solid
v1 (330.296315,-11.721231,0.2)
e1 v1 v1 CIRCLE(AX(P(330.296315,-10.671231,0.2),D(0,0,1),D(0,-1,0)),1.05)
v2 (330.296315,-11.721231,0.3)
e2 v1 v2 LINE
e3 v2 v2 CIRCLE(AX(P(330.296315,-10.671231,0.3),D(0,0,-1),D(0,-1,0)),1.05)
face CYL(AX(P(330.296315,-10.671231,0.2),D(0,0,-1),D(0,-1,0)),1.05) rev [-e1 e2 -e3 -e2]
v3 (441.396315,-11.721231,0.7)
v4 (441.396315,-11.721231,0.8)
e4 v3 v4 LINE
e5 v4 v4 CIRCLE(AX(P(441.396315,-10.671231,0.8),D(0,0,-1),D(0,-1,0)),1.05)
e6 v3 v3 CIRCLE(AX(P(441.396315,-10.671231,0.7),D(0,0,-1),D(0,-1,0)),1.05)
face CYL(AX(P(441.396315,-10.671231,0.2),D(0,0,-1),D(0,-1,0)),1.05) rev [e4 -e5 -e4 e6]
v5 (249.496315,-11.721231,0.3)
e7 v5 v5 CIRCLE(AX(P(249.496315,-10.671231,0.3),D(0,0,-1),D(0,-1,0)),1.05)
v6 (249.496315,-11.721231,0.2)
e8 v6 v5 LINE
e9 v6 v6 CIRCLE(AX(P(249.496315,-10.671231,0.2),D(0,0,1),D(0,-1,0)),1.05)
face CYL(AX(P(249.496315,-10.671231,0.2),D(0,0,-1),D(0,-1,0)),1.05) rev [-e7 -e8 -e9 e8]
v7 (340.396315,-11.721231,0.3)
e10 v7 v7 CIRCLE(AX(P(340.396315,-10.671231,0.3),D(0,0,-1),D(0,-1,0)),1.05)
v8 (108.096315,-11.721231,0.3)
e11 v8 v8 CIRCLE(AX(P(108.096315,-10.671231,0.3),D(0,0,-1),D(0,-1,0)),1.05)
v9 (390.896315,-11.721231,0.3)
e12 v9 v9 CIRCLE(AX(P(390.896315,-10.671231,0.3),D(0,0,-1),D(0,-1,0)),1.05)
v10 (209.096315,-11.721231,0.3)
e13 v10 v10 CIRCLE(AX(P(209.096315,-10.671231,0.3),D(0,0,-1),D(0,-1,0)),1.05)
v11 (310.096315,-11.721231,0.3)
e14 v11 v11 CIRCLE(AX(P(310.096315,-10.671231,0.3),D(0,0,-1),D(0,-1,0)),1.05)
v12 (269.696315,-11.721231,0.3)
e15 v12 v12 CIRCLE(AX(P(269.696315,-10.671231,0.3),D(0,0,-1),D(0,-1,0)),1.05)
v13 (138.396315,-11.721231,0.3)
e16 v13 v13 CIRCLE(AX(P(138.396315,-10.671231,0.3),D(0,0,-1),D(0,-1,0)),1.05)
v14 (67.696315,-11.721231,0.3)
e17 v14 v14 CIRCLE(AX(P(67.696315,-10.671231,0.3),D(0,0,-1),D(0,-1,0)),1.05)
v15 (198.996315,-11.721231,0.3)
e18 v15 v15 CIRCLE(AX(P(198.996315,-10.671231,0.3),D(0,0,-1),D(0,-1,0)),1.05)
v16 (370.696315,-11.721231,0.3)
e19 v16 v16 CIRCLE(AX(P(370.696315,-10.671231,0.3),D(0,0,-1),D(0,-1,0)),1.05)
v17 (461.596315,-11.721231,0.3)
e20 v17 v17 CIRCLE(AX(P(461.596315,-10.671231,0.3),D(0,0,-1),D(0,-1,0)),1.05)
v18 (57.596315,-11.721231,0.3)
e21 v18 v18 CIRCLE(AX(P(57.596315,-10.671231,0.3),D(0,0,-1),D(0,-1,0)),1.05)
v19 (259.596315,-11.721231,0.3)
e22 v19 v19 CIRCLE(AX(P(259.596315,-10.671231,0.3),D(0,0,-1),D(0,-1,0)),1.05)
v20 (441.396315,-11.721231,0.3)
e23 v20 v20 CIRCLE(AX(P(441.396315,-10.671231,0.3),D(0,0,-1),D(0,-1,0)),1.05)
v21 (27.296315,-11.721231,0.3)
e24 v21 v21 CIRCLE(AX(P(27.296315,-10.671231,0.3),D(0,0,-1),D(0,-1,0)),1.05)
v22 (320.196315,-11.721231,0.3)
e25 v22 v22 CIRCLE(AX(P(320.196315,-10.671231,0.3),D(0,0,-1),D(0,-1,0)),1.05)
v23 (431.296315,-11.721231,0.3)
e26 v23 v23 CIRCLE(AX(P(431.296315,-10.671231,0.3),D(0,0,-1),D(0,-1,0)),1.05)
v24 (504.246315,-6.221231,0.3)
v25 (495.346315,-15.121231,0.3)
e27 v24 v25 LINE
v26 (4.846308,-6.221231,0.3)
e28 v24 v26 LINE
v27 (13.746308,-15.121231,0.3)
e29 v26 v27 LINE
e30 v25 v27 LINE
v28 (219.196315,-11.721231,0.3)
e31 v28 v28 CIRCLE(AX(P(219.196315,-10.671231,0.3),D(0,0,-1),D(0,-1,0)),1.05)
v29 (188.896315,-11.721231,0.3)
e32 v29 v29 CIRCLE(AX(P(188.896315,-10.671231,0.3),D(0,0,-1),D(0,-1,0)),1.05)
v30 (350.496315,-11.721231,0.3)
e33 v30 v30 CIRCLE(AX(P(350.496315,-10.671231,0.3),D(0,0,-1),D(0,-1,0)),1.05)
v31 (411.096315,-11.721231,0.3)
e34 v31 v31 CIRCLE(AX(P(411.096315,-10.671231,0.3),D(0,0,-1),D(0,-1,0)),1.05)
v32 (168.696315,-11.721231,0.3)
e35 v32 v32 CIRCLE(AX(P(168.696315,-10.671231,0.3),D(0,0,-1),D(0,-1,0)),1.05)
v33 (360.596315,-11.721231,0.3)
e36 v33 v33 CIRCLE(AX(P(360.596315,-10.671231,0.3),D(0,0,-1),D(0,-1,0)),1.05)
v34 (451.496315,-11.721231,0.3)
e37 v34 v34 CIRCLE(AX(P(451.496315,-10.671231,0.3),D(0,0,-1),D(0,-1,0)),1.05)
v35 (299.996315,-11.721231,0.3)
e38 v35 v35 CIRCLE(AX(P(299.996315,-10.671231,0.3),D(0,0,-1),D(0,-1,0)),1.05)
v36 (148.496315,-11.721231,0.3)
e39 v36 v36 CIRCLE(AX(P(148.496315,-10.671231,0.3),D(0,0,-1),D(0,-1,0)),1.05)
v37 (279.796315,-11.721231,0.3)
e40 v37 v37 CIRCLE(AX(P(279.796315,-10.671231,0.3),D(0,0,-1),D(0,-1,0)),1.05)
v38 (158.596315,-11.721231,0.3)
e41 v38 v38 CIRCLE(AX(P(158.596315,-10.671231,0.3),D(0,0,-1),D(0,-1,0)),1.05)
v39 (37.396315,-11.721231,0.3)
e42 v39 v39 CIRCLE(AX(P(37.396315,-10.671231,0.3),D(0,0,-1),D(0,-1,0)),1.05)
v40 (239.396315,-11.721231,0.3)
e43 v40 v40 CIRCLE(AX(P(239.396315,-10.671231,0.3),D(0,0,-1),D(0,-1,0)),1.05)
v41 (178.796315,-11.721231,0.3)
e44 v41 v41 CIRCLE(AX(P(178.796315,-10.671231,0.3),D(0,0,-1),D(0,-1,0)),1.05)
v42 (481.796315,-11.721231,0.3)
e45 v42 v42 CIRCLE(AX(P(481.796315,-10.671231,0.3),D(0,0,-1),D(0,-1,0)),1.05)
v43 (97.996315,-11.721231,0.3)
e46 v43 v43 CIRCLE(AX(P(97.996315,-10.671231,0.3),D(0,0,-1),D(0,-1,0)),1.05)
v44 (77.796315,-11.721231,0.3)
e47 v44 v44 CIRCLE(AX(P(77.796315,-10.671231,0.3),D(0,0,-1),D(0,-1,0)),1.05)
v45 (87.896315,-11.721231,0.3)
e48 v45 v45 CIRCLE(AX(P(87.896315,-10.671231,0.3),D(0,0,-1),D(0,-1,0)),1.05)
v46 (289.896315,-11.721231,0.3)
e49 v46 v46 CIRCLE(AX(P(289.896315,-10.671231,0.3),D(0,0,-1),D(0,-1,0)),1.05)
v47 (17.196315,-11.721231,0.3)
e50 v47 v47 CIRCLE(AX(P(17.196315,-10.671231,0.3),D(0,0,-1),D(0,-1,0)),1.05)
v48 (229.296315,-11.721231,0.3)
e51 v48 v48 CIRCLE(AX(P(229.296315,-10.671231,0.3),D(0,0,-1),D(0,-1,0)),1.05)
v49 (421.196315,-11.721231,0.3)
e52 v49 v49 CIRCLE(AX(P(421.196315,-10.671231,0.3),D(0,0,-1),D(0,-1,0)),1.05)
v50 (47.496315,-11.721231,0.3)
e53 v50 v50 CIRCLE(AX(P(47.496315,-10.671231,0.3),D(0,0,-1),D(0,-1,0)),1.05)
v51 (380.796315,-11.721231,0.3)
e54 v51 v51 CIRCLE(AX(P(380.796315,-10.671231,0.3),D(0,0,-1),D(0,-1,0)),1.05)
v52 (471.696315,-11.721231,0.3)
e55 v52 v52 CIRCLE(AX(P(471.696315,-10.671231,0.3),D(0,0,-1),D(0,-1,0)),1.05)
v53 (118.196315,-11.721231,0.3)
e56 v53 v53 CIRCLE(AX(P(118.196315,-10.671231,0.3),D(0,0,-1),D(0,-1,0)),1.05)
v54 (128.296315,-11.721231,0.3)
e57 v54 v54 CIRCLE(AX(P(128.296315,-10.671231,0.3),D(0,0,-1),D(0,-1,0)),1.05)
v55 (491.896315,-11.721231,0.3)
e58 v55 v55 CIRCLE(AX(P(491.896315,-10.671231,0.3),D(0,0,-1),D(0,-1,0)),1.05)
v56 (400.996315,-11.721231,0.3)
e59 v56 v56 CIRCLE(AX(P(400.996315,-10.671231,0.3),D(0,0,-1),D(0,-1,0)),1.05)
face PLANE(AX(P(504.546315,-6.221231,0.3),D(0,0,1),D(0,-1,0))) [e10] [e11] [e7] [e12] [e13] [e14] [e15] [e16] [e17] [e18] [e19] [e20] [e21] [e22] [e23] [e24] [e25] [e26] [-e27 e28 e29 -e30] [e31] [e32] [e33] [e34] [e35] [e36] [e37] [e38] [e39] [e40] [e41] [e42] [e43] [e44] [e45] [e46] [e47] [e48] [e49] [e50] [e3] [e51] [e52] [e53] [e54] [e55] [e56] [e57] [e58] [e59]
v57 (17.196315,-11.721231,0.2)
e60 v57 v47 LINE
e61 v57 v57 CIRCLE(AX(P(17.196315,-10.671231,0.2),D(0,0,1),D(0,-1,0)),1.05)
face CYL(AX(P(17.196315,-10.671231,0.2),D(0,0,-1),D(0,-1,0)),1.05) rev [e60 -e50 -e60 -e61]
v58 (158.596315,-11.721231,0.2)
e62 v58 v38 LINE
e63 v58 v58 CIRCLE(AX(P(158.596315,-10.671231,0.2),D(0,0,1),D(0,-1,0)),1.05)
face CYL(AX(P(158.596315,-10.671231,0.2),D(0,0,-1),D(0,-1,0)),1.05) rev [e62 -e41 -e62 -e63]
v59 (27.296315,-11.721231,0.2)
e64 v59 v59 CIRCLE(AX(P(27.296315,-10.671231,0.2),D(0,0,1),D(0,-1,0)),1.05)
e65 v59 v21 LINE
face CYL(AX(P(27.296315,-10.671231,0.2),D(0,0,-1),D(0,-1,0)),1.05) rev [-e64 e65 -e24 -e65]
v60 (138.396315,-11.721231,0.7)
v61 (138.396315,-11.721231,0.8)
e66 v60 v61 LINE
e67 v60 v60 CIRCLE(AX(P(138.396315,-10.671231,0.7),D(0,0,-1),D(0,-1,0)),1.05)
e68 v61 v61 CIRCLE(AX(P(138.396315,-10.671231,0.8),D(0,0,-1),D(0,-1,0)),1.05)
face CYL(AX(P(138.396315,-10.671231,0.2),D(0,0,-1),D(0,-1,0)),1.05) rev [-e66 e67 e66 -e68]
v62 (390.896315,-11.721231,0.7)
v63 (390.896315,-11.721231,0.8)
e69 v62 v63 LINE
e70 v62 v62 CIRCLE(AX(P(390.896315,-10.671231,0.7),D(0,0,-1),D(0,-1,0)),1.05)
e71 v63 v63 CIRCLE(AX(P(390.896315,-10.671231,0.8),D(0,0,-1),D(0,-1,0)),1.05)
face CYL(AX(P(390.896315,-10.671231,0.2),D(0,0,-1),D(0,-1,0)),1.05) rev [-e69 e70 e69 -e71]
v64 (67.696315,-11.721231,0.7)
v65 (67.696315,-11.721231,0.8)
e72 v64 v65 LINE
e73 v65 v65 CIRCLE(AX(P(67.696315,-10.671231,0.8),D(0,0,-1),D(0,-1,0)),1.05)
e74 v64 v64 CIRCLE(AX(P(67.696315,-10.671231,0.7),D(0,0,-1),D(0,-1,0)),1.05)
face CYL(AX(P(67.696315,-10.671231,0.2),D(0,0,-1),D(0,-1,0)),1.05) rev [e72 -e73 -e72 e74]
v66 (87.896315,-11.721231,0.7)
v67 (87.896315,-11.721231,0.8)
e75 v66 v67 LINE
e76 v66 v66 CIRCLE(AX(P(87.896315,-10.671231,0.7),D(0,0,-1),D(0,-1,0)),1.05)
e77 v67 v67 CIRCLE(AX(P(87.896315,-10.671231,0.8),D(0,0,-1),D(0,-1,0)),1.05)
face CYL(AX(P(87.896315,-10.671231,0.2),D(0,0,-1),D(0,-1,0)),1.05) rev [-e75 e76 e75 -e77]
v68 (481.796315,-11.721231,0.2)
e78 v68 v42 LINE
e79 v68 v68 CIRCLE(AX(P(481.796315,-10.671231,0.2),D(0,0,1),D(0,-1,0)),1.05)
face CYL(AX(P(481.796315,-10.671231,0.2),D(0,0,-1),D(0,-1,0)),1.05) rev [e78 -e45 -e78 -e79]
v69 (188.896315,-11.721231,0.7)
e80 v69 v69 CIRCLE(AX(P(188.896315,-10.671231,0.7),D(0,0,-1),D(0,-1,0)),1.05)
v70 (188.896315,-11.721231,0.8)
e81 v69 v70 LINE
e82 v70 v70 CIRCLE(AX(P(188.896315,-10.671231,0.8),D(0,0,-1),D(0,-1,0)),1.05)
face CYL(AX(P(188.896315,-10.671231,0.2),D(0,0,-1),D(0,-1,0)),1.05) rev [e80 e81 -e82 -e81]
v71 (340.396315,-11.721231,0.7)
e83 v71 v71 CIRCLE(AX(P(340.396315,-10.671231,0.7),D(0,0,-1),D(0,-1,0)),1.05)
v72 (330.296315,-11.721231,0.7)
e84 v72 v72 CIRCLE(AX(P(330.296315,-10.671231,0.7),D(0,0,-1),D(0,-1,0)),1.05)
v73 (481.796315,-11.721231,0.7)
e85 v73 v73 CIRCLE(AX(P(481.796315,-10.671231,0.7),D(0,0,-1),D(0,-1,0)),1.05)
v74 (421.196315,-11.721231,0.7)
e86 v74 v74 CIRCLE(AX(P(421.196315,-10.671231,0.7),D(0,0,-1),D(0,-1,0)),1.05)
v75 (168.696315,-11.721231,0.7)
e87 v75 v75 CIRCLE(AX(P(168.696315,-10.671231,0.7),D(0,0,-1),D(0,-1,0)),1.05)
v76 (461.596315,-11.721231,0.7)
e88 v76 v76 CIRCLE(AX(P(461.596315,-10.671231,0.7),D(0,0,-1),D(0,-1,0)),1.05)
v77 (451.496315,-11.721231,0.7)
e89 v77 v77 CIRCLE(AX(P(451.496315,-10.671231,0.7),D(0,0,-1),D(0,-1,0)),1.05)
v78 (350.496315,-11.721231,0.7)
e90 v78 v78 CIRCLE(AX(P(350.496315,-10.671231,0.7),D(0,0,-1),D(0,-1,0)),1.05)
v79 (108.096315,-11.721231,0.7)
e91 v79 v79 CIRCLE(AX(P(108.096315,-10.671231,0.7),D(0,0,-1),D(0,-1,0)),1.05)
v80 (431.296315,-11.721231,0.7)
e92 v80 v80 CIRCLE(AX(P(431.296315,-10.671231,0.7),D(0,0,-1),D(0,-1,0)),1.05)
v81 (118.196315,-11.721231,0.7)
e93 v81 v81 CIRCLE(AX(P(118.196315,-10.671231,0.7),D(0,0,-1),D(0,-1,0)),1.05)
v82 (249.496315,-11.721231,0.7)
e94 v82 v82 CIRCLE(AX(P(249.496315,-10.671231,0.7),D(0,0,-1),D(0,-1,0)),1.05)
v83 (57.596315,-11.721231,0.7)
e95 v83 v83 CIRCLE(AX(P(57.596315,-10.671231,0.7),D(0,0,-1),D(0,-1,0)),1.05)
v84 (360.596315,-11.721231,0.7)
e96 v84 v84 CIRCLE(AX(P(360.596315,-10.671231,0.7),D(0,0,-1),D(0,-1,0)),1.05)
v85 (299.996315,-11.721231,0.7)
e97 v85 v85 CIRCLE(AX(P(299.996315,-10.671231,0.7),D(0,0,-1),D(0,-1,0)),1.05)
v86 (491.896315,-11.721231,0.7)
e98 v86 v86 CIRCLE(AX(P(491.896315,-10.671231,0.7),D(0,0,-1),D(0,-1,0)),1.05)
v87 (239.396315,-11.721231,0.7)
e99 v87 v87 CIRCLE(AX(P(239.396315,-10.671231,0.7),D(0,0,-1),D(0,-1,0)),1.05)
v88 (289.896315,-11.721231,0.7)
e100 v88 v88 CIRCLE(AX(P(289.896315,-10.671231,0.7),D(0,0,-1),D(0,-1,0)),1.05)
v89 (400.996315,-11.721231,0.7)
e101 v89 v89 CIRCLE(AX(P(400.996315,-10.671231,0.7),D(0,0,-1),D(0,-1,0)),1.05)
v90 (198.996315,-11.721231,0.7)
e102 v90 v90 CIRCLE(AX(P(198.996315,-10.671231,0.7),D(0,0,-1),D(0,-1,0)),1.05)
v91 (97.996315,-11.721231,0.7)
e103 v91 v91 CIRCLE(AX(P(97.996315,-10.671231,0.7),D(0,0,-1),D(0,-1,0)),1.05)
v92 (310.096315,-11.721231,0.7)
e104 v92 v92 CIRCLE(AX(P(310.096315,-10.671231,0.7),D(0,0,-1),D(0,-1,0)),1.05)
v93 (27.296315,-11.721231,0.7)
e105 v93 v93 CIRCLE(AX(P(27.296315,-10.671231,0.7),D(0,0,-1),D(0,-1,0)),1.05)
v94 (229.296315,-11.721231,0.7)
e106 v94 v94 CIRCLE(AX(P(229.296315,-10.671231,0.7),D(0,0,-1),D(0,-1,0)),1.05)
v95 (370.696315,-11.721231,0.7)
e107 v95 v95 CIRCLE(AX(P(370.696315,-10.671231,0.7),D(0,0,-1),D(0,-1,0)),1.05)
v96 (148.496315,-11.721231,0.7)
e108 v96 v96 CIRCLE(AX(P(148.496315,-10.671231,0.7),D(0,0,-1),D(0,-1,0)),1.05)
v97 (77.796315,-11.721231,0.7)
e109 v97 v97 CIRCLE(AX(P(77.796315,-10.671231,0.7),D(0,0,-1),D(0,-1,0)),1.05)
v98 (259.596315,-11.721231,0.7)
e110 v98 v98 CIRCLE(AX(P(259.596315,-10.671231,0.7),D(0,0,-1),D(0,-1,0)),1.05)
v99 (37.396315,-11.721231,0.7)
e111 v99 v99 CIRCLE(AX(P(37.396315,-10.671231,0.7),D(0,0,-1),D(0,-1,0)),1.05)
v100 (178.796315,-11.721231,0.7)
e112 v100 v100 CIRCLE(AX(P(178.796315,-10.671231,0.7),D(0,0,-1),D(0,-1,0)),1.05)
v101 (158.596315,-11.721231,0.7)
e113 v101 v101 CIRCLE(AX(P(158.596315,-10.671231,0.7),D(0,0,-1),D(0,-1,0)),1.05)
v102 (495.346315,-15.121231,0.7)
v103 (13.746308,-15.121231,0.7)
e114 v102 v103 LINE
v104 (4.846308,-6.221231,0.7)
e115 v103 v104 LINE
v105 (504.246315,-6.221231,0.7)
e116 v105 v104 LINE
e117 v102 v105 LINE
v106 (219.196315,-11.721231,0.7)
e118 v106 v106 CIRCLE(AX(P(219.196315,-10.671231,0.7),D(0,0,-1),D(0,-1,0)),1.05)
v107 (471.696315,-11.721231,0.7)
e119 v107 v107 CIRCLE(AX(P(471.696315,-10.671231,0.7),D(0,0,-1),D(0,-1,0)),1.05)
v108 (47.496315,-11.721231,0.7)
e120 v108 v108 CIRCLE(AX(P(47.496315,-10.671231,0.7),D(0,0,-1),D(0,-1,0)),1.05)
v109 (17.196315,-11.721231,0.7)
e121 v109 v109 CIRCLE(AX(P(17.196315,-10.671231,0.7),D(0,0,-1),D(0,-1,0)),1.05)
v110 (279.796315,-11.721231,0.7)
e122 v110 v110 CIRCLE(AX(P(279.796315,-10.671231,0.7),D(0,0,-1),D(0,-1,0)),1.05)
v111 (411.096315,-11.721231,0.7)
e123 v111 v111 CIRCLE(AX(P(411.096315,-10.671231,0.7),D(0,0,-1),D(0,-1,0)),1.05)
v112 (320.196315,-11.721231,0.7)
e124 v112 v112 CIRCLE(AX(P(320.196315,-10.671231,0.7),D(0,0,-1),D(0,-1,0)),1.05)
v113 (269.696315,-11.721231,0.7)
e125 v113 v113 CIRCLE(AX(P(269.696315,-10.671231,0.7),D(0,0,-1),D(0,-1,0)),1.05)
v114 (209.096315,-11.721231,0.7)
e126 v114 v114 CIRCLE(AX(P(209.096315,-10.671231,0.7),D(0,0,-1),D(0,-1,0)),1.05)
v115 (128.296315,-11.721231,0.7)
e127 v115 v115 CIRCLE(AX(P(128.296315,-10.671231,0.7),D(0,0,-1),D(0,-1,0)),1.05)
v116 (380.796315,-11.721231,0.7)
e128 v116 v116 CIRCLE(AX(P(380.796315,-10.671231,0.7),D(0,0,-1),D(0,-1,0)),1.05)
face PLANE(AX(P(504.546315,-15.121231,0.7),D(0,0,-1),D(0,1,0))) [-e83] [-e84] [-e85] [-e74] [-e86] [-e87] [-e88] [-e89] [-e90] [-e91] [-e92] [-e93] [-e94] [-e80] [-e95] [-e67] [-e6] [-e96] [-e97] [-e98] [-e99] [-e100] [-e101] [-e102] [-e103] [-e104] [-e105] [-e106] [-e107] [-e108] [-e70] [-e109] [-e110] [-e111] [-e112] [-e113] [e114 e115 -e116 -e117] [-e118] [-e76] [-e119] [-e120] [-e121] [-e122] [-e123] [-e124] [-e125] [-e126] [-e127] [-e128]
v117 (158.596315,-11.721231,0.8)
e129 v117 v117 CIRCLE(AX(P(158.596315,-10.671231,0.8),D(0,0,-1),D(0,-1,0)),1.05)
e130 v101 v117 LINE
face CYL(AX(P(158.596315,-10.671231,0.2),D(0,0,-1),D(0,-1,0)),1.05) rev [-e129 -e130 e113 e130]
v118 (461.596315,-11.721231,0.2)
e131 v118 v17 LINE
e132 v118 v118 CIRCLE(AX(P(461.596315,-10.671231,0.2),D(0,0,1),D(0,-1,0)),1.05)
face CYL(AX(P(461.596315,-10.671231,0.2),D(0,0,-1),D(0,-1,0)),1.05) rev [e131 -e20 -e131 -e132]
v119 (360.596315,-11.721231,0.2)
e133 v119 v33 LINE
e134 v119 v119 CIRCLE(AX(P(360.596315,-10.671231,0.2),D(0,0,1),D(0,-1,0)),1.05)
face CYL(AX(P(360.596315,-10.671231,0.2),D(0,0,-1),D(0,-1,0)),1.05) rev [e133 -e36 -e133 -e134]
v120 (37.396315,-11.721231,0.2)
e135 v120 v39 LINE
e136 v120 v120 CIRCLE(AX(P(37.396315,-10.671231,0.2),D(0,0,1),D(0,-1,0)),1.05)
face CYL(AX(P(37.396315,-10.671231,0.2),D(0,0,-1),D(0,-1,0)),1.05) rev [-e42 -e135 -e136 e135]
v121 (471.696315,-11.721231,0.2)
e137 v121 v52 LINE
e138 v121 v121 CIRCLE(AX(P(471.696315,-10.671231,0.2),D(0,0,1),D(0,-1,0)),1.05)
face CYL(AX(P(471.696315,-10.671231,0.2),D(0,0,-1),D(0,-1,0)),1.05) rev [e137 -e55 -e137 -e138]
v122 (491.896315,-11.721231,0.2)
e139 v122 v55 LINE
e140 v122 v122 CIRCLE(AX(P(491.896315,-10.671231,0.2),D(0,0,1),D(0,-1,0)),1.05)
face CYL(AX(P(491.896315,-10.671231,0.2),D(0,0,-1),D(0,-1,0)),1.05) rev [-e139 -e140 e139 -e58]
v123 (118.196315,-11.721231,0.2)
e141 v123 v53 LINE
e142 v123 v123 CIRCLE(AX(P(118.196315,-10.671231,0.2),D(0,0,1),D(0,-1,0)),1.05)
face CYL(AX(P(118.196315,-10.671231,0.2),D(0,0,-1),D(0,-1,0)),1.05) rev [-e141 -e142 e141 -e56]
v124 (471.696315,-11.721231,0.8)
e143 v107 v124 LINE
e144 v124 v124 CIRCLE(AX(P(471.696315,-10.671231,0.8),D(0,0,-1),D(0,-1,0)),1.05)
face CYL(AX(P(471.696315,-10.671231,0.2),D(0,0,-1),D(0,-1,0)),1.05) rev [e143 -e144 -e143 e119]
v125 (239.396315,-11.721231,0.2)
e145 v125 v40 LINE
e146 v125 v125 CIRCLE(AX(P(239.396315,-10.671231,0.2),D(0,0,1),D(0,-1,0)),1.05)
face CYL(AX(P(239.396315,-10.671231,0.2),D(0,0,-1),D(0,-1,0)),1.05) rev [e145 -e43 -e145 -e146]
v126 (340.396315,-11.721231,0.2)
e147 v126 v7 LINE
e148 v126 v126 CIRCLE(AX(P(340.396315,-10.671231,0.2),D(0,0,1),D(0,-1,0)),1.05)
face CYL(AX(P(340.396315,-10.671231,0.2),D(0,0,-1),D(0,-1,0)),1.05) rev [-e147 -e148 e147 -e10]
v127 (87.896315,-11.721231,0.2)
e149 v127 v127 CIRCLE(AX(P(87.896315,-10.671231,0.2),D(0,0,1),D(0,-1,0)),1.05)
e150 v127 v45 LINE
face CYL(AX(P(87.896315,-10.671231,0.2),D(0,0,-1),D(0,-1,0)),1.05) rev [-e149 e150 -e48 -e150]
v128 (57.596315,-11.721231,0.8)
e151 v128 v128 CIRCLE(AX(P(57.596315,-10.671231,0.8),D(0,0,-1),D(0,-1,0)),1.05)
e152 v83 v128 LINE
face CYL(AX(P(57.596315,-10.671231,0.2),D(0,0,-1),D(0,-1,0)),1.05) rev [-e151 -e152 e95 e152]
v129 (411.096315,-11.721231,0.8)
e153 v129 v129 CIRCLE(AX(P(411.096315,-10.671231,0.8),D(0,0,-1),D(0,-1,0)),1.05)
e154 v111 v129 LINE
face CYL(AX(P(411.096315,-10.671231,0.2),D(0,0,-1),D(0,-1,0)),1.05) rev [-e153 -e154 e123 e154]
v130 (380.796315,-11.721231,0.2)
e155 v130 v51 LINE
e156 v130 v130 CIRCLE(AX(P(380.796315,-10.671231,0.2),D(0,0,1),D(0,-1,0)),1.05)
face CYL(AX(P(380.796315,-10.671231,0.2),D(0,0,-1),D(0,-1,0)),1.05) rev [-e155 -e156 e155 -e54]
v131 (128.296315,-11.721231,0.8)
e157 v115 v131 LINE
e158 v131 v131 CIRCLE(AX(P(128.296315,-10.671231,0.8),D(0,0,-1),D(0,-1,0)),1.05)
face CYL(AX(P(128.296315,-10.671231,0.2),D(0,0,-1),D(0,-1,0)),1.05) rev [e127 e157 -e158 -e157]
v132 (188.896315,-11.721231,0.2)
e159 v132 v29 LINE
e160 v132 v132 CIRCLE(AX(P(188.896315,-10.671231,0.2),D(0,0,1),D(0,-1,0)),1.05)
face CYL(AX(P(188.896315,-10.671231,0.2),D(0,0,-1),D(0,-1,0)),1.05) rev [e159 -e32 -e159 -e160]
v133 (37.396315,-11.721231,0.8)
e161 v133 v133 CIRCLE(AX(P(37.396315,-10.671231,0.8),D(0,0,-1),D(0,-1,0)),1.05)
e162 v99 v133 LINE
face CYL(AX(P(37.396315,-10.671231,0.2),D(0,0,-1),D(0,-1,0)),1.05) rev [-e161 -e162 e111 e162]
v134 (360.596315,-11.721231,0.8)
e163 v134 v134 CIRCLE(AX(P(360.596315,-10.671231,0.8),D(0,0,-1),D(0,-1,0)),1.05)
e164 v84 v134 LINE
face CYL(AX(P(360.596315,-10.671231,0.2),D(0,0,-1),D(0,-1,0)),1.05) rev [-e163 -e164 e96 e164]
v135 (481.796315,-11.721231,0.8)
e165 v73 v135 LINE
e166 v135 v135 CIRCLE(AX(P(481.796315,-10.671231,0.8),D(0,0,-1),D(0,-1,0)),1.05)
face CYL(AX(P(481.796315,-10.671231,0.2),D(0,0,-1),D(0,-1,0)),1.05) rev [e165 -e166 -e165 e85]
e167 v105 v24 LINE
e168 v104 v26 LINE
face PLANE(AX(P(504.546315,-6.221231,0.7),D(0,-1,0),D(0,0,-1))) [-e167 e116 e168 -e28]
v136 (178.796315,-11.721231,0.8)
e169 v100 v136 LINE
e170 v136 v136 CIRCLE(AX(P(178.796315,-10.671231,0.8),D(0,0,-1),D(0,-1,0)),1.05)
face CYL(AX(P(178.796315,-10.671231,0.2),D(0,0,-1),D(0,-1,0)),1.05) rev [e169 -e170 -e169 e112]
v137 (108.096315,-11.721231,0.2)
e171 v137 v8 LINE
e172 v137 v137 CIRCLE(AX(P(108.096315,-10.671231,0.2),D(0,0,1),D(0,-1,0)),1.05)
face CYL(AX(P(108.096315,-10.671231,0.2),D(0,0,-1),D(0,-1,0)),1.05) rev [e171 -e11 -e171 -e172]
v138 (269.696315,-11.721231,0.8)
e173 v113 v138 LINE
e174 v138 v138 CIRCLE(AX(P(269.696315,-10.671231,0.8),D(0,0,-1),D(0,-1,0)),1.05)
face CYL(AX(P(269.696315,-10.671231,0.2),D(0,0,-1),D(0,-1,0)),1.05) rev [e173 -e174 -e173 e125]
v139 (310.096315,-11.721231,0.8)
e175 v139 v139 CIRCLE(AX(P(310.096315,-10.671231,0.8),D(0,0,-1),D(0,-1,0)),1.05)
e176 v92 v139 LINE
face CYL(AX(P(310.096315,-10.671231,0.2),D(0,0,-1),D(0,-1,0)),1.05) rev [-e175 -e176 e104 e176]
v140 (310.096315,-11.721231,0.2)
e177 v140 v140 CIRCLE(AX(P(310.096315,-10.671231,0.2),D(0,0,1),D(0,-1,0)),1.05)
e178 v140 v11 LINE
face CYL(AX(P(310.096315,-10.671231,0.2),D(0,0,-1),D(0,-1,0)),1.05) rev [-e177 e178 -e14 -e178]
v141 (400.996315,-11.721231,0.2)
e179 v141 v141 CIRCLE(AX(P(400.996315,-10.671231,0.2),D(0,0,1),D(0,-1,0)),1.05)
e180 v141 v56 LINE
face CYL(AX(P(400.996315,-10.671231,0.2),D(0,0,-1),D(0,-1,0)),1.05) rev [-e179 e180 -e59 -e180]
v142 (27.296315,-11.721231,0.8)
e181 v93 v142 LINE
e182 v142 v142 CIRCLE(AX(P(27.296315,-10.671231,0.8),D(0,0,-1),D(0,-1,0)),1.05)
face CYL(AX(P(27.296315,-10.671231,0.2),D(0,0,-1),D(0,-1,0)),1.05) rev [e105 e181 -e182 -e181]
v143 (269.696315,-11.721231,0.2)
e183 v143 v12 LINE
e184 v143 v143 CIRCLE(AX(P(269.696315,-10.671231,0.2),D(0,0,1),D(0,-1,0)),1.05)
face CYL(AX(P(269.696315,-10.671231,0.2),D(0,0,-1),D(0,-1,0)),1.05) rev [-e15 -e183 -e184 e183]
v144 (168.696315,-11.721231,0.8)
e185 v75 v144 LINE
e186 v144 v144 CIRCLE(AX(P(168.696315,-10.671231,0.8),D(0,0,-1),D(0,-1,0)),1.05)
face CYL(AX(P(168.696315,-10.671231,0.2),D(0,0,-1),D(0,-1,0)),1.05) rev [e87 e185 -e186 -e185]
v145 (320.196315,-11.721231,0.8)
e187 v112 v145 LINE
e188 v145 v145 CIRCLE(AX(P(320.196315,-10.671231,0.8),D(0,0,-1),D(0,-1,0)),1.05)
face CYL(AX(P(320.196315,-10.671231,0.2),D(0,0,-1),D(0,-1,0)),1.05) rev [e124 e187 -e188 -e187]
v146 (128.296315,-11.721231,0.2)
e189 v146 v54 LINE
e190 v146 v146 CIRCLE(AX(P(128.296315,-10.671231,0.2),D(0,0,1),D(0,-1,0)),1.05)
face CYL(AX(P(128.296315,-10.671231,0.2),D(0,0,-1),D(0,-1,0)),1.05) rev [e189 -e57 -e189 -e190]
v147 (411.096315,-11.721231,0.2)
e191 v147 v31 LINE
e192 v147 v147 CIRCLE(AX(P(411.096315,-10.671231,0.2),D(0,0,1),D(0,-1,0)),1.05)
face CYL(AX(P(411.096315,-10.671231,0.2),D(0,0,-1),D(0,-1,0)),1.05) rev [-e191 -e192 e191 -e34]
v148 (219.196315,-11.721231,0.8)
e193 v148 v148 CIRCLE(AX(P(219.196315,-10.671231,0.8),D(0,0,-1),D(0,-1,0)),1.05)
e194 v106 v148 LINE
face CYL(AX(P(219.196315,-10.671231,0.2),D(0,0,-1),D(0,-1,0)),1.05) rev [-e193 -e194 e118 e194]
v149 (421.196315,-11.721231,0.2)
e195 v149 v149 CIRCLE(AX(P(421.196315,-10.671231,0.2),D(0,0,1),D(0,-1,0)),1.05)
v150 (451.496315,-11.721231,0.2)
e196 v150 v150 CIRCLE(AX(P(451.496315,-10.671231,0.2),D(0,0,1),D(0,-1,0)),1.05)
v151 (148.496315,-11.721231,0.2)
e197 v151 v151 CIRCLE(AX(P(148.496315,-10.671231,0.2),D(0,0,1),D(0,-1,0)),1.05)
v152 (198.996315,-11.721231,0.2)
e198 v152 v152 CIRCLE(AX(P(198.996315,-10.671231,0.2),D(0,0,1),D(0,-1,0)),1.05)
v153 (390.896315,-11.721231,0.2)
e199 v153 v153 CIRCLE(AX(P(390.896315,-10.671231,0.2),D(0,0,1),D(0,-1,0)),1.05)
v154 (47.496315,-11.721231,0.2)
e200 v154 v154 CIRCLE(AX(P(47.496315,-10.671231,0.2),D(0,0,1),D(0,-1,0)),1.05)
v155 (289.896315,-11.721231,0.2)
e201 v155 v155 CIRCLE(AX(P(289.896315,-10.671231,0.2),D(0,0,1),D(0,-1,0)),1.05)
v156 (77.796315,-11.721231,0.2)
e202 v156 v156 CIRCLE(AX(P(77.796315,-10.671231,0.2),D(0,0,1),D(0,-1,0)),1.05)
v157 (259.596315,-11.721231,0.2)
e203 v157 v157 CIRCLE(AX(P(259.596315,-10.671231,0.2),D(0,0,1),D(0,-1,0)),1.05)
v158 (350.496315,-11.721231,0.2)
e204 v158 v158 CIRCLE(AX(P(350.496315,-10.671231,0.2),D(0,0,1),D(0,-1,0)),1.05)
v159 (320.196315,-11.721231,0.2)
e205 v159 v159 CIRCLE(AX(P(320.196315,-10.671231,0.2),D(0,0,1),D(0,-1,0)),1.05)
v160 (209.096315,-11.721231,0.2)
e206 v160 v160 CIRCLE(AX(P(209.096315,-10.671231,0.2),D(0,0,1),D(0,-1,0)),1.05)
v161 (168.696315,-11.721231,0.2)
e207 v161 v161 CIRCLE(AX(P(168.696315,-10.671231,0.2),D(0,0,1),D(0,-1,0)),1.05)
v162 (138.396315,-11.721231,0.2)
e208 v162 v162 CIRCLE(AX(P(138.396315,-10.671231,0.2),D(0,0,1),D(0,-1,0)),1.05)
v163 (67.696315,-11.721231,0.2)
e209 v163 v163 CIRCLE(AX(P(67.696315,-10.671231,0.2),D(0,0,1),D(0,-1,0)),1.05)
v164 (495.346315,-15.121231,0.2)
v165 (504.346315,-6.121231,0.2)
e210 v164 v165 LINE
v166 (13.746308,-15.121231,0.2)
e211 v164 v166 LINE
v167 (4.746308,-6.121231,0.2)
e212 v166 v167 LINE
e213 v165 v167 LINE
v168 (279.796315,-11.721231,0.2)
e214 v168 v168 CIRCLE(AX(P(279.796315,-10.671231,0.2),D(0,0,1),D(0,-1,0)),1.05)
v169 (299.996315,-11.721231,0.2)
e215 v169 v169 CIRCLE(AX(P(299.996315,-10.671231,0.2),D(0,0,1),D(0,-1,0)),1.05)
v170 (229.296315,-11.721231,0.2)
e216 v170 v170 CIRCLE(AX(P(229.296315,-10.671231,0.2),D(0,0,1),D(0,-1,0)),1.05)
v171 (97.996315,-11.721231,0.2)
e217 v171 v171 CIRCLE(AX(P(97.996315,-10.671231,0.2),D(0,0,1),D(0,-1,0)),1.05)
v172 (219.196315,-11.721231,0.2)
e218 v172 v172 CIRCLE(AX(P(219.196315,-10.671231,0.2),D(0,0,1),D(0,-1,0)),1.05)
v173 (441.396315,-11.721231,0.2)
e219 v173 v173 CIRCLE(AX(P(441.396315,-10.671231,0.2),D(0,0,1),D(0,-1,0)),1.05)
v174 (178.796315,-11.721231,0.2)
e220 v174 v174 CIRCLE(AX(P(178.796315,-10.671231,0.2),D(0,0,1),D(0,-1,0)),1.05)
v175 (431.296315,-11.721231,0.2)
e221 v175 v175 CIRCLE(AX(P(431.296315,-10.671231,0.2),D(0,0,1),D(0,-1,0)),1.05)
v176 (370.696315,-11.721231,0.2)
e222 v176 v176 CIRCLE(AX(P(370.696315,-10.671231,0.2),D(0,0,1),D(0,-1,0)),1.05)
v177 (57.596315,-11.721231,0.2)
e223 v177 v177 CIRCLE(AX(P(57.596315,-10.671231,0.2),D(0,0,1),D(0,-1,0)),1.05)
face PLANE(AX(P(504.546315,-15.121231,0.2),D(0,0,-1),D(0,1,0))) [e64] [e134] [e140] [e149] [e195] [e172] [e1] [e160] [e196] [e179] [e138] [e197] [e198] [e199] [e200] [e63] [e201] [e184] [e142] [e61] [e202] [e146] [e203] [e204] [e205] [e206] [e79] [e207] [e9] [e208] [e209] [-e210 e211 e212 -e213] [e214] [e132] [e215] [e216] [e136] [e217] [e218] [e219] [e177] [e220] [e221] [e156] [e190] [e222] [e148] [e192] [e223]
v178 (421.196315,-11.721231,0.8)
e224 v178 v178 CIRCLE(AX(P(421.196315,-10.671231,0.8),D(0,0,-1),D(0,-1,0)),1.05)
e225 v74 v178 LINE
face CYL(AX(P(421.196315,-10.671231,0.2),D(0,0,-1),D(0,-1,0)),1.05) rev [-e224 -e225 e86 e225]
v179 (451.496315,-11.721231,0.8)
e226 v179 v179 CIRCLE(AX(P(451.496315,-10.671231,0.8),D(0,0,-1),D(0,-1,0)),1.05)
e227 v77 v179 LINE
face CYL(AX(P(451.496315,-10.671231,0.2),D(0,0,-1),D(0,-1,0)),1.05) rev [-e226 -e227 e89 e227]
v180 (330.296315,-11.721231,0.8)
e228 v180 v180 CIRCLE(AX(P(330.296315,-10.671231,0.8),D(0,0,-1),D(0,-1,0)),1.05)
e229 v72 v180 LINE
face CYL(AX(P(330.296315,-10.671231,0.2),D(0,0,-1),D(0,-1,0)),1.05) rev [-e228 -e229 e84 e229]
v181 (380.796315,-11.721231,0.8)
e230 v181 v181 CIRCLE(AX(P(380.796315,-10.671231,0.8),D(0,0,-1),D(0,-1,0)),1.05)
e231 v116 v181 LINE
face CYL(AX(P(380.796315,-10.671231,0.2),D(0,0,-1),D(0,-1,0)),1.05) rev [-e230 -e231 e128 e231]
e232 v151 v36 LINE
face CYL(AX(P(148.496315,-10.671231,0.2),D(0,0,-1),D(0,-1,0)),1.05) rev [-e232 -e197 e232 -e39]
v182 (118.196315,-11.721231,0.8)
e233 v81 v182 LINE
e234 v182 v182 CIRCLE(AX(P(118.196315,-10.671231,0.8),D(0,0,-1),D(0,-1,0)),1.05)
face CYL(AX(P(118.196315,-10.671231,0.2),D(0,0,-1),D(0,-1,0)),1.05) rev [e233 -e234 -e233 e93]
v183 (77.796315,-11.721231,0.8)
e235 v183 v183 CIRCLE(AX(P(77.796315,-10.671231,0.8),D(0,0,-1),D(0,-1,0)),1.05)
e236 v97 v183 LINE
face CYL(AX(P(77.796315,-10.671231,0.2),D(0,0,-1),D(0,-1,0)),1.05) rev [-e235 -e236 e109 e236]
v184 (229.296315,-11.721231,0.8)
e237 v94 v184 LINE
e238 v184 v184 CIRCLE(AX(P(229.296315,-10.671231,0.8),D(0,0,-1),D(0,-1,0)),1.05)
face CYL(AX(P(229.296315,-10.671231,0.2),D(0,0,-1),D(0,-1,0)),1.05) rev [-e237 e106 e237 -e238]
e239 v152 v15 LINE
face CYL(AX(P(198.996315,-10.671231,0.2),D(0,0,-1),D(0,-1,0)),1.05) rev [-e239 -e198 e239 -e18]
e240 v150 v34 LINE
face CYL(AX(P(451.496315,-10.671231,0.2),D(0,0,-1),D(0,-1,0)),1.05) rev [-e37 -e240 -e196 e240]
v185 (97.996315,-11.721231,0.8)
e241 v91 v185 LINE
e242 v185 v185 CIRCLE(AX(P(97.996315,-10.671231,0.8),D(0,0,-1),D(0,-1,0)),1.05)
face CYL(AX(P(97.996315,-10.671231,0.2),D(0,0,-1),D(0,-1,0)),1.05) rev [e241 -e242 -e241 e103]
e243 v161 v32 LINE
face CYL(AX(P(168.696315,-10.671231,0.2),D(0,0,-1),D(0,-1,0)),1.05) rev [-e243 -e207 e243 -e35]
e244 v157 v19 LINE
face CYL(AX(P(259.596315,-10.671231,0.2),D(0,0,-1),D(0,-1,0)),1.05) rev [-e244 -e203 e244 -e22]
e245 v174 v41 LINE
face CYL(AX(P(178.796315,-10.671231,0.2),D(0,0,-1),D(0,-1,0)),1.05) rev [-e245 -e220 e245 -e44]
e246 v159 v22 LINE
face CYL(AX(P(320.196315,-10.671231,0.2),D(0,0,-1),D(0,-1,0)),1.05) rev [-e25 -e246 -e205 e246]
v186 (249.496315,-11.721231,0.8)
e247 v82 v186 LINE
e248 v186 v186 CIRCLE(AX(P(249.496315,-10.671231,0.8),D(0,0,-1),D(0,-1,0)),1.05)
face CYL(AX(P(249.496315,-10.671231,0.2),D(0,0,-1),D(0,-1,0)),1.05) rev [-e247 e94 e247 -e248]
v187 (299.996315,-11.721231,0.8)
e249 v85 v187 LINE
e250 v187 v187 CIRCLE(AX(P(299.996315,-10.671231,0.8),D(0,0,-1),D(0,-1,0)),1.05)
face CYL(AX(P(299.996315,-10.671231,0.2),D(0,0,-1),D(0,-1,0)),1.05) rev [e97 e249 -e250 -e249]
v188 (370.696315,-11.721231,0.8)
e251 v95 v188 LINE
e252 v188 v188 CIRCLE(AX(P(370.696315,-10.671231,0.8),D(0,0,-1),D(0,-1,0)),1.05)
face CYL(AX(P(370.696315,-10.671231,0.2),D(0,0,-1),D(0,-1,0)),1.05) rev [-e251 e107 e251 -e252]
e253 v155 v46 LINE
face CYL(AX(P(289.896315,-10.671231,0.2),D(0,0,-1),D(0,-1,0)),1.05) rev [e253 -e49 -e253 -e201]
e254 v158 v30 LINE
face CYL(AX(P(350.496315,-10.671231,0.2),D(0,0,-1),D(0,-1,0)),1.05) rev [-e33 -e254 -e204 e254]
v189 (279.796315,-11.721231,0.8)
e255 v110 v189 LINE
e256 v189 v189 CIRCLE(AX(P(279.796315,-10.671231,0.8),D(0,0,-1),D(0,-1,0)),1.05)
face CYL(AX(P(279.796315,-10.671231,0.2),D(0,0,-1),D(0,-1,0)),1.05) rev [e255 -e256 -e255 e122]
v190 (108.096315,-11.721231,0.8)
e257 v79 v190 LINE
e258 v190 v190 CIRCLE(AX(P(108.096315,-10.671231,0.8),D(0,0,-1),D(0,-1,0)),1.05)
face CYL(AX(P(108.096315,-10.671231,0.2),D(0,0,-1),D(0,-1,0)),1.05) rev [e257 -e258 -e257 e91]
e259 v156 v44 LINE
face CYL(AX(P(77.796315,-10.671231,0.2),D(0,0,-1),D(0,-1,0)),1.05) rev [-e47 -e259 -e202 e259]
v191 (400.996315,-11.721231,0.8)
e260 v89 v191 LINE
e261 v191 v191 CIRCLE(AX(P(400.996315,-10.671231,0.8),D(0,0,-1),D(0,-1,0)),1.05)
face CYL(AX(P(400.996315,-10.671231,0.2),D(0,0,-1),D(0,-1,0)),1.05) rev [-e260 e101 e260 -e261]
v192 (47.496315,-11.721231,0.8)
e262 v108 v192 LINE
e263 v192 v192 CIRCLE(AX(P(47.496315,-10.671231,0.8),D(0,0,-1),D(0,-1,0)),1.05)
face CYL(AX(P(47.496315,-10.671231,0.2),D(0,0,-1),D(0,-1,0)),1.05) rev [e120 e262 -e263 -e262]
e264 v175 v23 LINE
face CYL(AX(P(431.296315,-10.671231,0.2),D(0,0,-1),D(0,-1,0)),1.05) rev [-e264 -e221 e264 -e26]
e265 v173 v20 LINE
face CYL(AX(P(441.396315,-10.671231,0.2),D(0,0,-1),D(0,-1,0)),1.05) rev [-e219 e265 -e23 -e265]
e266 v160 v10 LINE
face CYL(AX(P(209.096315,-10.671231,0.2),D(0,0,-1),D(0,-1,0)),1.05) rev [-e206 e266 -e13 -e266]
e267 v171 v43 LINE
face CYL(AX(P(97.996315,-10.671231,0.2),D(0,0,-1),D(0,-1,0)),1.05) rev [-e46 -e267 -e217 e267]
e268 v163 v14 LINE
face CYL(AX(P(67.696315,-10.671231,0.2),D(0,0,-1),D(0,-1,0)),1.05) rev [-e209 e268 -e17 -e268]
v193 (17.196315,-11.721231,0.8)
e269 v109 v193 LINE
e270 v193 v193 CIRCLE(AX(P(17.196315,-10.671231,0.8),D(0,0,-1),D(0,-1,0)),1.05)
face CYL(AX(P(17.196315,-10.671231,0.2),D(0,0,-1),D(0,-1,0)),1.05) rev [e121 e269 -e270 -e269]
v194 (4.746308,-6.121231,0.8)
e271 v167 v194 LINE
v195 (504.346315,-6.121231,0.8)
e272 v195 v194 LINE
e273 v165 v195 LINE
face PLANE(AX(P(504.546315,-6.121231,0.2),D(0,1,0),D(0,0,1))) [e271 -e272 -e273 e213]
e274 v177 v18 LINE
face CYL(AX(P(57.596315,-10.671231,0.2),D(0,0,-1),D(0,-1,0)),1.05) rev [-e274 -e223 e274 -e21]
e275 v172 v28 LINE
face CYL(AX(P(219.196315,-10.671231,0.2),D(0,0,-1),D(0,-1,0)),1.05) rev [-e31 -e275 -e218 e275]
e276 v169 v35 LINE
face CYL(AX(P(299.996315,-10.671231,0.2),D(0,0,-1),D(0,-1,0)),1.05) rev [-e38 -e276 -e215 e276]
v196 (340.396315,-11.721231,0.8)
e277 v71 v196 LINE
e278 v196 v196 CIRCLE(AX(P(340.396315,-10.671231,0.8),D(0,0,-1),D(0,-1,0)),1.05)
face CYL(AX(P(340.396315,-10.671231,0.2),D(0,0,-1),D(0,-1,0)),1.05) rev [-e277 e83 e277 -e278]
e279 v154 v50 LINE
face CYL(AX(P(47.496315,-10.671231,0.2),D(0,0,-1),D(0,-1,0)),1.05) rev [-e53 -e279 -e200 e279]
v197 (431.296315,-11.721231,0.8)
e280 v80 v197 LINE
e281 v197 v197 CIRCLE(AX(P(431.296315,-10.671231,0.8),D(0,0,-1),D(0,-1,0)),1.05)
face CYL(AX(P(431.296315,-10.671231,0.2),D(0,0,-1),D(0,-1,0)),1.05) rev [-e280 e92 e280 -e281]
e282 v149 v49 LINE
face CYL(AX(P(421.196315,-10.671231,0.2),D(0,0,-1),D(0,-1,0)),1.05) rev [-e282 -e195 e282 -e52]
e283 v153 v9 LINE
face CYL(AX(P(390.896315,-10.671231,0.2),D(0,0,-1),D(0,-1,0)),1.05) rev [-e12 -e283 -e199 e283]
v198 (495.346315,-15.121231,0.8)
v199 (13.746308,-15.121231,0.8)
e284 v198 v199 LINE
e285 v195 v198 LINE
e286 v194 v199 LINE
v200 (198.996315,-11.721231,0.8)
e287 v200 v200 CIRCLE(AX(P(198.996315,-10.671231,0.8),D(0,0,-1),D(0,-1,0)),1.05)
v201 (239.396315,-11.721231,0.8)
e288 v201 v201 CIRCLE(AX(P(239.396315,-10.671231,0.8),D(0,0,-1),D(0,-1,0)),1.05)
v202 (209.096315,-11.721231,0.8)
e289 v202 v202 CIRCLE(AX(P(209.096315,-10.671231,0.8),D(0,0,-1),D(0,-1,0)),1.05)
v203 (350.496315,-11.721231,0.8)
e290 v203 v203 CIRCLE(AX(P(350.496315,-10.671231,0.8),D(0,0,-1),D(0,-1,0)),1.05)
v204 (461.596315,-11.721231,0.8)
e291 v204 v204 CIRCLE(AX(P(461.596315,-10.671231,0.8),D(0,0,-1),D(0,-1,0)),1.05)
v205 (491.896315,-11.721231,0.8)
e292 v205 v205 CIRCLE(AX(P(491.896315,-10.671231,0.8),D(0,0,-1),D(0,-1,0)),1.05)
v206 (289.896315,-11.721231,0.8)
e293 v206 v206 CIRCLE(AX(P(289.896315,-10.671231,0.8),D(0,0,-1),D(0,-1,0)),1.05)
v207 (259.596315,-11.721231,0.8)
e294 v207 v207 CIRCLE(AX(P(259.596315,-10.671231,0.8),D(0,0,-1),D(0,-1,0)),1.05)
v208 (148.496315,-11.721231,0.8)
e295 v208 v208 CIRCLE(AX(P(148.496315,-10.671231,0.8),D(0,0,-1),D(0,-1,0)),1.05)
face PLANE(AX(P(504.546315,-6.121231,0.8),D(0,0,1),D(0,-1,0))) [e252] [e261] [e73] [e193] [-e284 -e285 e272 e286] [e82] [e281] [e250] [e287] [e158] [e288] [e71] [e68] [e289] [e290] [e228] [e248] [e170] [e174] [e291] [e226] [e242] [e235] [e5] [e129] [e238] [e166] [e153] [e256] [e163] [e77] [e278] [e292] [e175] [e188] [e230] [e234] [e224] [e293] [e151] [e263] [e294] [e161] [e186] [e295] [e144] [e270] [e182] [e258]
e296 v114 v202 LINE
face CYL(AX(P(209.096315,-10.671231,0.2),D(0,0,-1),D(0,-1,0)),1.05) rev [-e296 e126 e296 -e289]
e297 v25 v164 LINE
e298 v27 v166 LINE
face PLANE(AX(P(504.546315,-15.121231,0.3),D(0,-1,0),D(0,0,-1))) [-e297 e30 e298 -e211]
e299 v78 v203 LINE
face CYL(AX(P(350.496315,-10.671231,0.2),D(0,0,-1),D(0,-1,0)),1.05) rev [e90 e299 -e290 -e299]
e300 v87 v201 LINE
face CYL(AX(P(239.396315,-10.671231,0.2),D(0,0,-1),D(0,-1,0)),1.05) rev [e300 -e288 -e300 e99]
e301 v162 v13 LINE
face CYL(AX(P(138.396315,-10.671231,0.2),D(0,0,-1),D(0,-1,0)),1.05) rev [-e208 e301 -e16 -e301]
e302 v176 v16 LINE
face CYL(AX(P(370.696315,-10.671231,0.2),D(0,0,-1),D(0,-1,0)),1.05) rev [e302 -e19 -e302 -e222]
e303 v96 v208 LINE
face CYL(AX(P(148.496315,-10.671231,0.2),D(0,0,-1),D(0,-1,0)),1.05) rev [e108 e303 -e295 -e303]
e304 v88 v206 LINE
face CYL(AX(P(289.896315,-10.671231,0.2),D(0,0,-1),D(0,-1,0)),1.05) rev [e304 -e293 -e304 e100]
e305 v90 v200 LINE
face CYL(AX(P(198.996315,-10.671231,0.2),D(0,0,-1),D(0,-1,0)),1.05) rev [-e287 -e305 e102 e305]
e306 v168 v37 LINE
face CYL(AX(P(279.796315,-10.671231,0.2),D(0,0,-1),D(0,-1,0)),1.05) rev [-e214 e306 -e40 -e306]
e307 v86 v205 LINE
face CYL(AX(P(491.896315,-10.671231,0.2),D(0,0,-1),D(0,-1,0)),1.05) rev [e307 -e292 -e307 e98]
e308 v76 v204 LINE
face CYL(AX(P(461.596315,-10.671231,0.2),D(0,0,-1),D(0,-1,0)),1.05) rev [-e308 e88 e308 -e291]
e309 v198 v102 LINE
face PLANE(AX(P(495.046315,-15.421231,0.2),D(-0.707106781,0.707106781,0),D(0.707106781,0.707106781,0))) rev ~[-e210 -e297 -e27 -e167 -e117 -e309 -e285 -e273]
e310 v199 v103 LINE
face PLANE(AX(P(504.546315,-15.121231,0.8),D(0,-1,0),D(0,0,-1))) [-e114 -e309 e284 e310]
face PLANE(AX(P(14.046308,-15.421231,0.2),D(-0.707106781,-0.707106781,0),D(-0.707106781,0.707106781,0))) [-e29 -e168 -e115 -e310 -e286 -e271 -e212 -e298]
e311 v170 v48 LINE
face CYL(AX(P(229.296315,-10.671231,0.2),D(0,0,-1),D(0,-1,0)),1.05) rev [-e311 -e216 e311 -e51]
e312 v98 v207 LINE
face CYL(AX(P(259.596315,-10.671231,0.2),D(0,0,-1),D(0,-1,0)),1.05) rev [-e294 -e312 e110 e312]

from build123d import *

# Parameters (mm, degrees)
PAD053_DEPTH            = 500
POCKET006_DEPTH         = 0.601
SKETCH066_R             = 1.05
POCKET007_DEPTH         = 0.601
BODY054_PITCH_ANGLE     = -90
BODY054_PLACEMENT_ANGLE = -90


with BuildPart() as part:
    # Sketch064 → Pad053 (new body)
    with BuildSketch(Plane.XZ.offset(-0.3)):
        Polygon((0.6, 9), (0.6, 0), (0.5, 0), (0.5, 8.9), (0.1, 8.9), (0.1, 0), (0, 0), (0, 9), align=None)
    extrude(amount=PAD053_DEPTH)

    # Sketch065 → Pocket006 (cut, through all)
    with BuildSketch(Plane.YZ):
        Polygon((-499.700007, 9.2), (-499.700007, -0.3), (-490.200007, -0.3), align=None)
        Polygon((0.3, -0.3), (-9.2, -0.3), (0.3, 9.2), align=None)
    extrude(amount=POCKET006_DEPTH, mode=Mode.SUBTRACT)

    # Sketch066 → Pocket007 (cut, through all)
    with BuildSketch(Plane(origin=(0, 0.3, -0.3), x_dir=(0, 0, -1), z_dir=(1, 0, 0))):
        with Locations((-4.75, -487.35)):
            Circle(SKETCH066_R)
        with Locations((-4.75, -477.25)):
            Circle(SKETCH066_R)
        with Locations((-4.75, -457.05)):
            Circle(SKETCH066_R)
        with Locations((-4.75, -467.15)):
            Circle(SKETCH066_R)
        with Locations((-4.75, -416.65)):
            Circle(SKETCH066_R)
        with Locations((-4.75, -426.75)):
            Circle(SKETCH066_R)
        with Locations((-4.75, -436.85)):
            Circle(SKETCH066_R)
        with Locations((-4.75, -446.95)):
            Circle(SKETCH066_R)
        with Locations((-4.75, -335.85)):
            Circle(SKETCH066_R)
        with Locations((-4.75, -345.95)):
            Circle(SKETCH066_R)
        with Locations((-4.75, -356.05)):
            Circle(SKETCH066_R)
        with Locations((-4.75, -366.15)):
            Circle(SKETCH066_R)
        with Locations((-4.75, -376.25)):
            Circle(SKETCH066_R)
        with Locations((-4.75, -386.35)):
            Circle(SKETCH066_R)
        with Locations((-4.75, -396.45)):
            Circle(SKETCH066_R)
        with Locations((-4.75, -406.55)):
            Circle(SKETCH066_R)
        with Locations((-4.75, -174.25)):
            Circle(SKETCH066_R)
        with Locations((-4.75, -184.35)):
            Circle(SKETCH066_R)
        with Locations((-4.75, -194.45)):
            Circle(SKETCH066_R)
        with Locations((-4.75, -204.55)):
            Circle(SKETCH066_R)
        with Locations((-4.75, -214.65)):
            Circle(SKETCH066_R)
        with Locations((-4.75, -224.75)):
            Circle(SKETCH066_R)
        with Locations((-4.75, -234.85)):
            Circle(SKETCH066_R)
        with Locations((-4.75, -244.95)):
            Circle(SKETCH066_R)
        with Locations((-4.75, -255.05)):
            Circle(SKETCH066_R)
        with Locations((-4.75, -265.15)):
            Circle(SKETCH066_R)
        with Locations((-4.75, -275.25)):
            Circle(SKETCH066_R)
        with Locations((-4.75, -285.35)):
            Circle(SKETCH066_R)
        with Locations((-4.75, -295.45)):
            Circle(SKETCH066_R)
        with Locations((-4.75, -305.55)):
            Circle(SKETCH066_R)
        with Locations((-4.75, -315.65)):
            Circle(SKETCH066_R)
        with Locations((-4.75, -325.75)):
            Circle(SKETCH066_R)
        with Locations((-4.75, -63.15)):
            Circle(SKETCH066_R)
        with Locations((-4.75, -73.25)):
            Circle(SKETCH066_R)
        with Locations((-4.75, -83.35)):
            Circle(SKETCH066_R)
        with Locations((-4.75, -93.45)):
            Circle(SKETCH066_R)
        with Locations((-4.75, -103.55)):
            Circle(SKETCH066_R)
        with Locations((-4.75, -113.65)):
            Circle(SKETCH066_R)
        with Locations((-4.75, -123.75)):
            Circle(SKETCH066_R)
        with Locations((-4.75, -133.85)):
            Circle(SKETCH066_R)
        with Locations((-4.75, -143.95)):
            Circle(SKETCH066_R)
        with Locations((-4.75, -154.05)):
            Circle(SKETCH066_R)
        with Locations((-4.75, -164.15)):
            Circle(SKETCH066_R)
        with Locations((-4.75, -12.65)):
            Circle(SKETCH066_R)
        with Locations((-4.75, -22.75)):
            Circle(SKETCH066_R)
        with Locations((-4.75, -32.85)):
            Circle(SKETCH066_R)
        with Locations((-4.75, -42.95)):
            Circle(SKETCH066_R)
        with Locations((-4.75, -53.05)):
            Circle(SKETCH066_R)
    extrude(amount=POCKET007_DEPTH, mode=Mode.SUBTRACT)


with BuildPart() as part_1:
    # Body054 pitch: moved
    add(part.part.rotate(Axis((0, 0, 0), (0, 1, 0)), BODY054_PITCH_ANGLE))


with BuildPart() as part_2:
    # Body054 placement: moved
    add(part_1.part.moved(Location((504.246315, -15.121231, 0.2))).rotate(Axis((504.246315, -15.121231, 0.2), (0, 0, 1)), BODY054_PLACEMENT_ANGLE))


solid = part_2.part
